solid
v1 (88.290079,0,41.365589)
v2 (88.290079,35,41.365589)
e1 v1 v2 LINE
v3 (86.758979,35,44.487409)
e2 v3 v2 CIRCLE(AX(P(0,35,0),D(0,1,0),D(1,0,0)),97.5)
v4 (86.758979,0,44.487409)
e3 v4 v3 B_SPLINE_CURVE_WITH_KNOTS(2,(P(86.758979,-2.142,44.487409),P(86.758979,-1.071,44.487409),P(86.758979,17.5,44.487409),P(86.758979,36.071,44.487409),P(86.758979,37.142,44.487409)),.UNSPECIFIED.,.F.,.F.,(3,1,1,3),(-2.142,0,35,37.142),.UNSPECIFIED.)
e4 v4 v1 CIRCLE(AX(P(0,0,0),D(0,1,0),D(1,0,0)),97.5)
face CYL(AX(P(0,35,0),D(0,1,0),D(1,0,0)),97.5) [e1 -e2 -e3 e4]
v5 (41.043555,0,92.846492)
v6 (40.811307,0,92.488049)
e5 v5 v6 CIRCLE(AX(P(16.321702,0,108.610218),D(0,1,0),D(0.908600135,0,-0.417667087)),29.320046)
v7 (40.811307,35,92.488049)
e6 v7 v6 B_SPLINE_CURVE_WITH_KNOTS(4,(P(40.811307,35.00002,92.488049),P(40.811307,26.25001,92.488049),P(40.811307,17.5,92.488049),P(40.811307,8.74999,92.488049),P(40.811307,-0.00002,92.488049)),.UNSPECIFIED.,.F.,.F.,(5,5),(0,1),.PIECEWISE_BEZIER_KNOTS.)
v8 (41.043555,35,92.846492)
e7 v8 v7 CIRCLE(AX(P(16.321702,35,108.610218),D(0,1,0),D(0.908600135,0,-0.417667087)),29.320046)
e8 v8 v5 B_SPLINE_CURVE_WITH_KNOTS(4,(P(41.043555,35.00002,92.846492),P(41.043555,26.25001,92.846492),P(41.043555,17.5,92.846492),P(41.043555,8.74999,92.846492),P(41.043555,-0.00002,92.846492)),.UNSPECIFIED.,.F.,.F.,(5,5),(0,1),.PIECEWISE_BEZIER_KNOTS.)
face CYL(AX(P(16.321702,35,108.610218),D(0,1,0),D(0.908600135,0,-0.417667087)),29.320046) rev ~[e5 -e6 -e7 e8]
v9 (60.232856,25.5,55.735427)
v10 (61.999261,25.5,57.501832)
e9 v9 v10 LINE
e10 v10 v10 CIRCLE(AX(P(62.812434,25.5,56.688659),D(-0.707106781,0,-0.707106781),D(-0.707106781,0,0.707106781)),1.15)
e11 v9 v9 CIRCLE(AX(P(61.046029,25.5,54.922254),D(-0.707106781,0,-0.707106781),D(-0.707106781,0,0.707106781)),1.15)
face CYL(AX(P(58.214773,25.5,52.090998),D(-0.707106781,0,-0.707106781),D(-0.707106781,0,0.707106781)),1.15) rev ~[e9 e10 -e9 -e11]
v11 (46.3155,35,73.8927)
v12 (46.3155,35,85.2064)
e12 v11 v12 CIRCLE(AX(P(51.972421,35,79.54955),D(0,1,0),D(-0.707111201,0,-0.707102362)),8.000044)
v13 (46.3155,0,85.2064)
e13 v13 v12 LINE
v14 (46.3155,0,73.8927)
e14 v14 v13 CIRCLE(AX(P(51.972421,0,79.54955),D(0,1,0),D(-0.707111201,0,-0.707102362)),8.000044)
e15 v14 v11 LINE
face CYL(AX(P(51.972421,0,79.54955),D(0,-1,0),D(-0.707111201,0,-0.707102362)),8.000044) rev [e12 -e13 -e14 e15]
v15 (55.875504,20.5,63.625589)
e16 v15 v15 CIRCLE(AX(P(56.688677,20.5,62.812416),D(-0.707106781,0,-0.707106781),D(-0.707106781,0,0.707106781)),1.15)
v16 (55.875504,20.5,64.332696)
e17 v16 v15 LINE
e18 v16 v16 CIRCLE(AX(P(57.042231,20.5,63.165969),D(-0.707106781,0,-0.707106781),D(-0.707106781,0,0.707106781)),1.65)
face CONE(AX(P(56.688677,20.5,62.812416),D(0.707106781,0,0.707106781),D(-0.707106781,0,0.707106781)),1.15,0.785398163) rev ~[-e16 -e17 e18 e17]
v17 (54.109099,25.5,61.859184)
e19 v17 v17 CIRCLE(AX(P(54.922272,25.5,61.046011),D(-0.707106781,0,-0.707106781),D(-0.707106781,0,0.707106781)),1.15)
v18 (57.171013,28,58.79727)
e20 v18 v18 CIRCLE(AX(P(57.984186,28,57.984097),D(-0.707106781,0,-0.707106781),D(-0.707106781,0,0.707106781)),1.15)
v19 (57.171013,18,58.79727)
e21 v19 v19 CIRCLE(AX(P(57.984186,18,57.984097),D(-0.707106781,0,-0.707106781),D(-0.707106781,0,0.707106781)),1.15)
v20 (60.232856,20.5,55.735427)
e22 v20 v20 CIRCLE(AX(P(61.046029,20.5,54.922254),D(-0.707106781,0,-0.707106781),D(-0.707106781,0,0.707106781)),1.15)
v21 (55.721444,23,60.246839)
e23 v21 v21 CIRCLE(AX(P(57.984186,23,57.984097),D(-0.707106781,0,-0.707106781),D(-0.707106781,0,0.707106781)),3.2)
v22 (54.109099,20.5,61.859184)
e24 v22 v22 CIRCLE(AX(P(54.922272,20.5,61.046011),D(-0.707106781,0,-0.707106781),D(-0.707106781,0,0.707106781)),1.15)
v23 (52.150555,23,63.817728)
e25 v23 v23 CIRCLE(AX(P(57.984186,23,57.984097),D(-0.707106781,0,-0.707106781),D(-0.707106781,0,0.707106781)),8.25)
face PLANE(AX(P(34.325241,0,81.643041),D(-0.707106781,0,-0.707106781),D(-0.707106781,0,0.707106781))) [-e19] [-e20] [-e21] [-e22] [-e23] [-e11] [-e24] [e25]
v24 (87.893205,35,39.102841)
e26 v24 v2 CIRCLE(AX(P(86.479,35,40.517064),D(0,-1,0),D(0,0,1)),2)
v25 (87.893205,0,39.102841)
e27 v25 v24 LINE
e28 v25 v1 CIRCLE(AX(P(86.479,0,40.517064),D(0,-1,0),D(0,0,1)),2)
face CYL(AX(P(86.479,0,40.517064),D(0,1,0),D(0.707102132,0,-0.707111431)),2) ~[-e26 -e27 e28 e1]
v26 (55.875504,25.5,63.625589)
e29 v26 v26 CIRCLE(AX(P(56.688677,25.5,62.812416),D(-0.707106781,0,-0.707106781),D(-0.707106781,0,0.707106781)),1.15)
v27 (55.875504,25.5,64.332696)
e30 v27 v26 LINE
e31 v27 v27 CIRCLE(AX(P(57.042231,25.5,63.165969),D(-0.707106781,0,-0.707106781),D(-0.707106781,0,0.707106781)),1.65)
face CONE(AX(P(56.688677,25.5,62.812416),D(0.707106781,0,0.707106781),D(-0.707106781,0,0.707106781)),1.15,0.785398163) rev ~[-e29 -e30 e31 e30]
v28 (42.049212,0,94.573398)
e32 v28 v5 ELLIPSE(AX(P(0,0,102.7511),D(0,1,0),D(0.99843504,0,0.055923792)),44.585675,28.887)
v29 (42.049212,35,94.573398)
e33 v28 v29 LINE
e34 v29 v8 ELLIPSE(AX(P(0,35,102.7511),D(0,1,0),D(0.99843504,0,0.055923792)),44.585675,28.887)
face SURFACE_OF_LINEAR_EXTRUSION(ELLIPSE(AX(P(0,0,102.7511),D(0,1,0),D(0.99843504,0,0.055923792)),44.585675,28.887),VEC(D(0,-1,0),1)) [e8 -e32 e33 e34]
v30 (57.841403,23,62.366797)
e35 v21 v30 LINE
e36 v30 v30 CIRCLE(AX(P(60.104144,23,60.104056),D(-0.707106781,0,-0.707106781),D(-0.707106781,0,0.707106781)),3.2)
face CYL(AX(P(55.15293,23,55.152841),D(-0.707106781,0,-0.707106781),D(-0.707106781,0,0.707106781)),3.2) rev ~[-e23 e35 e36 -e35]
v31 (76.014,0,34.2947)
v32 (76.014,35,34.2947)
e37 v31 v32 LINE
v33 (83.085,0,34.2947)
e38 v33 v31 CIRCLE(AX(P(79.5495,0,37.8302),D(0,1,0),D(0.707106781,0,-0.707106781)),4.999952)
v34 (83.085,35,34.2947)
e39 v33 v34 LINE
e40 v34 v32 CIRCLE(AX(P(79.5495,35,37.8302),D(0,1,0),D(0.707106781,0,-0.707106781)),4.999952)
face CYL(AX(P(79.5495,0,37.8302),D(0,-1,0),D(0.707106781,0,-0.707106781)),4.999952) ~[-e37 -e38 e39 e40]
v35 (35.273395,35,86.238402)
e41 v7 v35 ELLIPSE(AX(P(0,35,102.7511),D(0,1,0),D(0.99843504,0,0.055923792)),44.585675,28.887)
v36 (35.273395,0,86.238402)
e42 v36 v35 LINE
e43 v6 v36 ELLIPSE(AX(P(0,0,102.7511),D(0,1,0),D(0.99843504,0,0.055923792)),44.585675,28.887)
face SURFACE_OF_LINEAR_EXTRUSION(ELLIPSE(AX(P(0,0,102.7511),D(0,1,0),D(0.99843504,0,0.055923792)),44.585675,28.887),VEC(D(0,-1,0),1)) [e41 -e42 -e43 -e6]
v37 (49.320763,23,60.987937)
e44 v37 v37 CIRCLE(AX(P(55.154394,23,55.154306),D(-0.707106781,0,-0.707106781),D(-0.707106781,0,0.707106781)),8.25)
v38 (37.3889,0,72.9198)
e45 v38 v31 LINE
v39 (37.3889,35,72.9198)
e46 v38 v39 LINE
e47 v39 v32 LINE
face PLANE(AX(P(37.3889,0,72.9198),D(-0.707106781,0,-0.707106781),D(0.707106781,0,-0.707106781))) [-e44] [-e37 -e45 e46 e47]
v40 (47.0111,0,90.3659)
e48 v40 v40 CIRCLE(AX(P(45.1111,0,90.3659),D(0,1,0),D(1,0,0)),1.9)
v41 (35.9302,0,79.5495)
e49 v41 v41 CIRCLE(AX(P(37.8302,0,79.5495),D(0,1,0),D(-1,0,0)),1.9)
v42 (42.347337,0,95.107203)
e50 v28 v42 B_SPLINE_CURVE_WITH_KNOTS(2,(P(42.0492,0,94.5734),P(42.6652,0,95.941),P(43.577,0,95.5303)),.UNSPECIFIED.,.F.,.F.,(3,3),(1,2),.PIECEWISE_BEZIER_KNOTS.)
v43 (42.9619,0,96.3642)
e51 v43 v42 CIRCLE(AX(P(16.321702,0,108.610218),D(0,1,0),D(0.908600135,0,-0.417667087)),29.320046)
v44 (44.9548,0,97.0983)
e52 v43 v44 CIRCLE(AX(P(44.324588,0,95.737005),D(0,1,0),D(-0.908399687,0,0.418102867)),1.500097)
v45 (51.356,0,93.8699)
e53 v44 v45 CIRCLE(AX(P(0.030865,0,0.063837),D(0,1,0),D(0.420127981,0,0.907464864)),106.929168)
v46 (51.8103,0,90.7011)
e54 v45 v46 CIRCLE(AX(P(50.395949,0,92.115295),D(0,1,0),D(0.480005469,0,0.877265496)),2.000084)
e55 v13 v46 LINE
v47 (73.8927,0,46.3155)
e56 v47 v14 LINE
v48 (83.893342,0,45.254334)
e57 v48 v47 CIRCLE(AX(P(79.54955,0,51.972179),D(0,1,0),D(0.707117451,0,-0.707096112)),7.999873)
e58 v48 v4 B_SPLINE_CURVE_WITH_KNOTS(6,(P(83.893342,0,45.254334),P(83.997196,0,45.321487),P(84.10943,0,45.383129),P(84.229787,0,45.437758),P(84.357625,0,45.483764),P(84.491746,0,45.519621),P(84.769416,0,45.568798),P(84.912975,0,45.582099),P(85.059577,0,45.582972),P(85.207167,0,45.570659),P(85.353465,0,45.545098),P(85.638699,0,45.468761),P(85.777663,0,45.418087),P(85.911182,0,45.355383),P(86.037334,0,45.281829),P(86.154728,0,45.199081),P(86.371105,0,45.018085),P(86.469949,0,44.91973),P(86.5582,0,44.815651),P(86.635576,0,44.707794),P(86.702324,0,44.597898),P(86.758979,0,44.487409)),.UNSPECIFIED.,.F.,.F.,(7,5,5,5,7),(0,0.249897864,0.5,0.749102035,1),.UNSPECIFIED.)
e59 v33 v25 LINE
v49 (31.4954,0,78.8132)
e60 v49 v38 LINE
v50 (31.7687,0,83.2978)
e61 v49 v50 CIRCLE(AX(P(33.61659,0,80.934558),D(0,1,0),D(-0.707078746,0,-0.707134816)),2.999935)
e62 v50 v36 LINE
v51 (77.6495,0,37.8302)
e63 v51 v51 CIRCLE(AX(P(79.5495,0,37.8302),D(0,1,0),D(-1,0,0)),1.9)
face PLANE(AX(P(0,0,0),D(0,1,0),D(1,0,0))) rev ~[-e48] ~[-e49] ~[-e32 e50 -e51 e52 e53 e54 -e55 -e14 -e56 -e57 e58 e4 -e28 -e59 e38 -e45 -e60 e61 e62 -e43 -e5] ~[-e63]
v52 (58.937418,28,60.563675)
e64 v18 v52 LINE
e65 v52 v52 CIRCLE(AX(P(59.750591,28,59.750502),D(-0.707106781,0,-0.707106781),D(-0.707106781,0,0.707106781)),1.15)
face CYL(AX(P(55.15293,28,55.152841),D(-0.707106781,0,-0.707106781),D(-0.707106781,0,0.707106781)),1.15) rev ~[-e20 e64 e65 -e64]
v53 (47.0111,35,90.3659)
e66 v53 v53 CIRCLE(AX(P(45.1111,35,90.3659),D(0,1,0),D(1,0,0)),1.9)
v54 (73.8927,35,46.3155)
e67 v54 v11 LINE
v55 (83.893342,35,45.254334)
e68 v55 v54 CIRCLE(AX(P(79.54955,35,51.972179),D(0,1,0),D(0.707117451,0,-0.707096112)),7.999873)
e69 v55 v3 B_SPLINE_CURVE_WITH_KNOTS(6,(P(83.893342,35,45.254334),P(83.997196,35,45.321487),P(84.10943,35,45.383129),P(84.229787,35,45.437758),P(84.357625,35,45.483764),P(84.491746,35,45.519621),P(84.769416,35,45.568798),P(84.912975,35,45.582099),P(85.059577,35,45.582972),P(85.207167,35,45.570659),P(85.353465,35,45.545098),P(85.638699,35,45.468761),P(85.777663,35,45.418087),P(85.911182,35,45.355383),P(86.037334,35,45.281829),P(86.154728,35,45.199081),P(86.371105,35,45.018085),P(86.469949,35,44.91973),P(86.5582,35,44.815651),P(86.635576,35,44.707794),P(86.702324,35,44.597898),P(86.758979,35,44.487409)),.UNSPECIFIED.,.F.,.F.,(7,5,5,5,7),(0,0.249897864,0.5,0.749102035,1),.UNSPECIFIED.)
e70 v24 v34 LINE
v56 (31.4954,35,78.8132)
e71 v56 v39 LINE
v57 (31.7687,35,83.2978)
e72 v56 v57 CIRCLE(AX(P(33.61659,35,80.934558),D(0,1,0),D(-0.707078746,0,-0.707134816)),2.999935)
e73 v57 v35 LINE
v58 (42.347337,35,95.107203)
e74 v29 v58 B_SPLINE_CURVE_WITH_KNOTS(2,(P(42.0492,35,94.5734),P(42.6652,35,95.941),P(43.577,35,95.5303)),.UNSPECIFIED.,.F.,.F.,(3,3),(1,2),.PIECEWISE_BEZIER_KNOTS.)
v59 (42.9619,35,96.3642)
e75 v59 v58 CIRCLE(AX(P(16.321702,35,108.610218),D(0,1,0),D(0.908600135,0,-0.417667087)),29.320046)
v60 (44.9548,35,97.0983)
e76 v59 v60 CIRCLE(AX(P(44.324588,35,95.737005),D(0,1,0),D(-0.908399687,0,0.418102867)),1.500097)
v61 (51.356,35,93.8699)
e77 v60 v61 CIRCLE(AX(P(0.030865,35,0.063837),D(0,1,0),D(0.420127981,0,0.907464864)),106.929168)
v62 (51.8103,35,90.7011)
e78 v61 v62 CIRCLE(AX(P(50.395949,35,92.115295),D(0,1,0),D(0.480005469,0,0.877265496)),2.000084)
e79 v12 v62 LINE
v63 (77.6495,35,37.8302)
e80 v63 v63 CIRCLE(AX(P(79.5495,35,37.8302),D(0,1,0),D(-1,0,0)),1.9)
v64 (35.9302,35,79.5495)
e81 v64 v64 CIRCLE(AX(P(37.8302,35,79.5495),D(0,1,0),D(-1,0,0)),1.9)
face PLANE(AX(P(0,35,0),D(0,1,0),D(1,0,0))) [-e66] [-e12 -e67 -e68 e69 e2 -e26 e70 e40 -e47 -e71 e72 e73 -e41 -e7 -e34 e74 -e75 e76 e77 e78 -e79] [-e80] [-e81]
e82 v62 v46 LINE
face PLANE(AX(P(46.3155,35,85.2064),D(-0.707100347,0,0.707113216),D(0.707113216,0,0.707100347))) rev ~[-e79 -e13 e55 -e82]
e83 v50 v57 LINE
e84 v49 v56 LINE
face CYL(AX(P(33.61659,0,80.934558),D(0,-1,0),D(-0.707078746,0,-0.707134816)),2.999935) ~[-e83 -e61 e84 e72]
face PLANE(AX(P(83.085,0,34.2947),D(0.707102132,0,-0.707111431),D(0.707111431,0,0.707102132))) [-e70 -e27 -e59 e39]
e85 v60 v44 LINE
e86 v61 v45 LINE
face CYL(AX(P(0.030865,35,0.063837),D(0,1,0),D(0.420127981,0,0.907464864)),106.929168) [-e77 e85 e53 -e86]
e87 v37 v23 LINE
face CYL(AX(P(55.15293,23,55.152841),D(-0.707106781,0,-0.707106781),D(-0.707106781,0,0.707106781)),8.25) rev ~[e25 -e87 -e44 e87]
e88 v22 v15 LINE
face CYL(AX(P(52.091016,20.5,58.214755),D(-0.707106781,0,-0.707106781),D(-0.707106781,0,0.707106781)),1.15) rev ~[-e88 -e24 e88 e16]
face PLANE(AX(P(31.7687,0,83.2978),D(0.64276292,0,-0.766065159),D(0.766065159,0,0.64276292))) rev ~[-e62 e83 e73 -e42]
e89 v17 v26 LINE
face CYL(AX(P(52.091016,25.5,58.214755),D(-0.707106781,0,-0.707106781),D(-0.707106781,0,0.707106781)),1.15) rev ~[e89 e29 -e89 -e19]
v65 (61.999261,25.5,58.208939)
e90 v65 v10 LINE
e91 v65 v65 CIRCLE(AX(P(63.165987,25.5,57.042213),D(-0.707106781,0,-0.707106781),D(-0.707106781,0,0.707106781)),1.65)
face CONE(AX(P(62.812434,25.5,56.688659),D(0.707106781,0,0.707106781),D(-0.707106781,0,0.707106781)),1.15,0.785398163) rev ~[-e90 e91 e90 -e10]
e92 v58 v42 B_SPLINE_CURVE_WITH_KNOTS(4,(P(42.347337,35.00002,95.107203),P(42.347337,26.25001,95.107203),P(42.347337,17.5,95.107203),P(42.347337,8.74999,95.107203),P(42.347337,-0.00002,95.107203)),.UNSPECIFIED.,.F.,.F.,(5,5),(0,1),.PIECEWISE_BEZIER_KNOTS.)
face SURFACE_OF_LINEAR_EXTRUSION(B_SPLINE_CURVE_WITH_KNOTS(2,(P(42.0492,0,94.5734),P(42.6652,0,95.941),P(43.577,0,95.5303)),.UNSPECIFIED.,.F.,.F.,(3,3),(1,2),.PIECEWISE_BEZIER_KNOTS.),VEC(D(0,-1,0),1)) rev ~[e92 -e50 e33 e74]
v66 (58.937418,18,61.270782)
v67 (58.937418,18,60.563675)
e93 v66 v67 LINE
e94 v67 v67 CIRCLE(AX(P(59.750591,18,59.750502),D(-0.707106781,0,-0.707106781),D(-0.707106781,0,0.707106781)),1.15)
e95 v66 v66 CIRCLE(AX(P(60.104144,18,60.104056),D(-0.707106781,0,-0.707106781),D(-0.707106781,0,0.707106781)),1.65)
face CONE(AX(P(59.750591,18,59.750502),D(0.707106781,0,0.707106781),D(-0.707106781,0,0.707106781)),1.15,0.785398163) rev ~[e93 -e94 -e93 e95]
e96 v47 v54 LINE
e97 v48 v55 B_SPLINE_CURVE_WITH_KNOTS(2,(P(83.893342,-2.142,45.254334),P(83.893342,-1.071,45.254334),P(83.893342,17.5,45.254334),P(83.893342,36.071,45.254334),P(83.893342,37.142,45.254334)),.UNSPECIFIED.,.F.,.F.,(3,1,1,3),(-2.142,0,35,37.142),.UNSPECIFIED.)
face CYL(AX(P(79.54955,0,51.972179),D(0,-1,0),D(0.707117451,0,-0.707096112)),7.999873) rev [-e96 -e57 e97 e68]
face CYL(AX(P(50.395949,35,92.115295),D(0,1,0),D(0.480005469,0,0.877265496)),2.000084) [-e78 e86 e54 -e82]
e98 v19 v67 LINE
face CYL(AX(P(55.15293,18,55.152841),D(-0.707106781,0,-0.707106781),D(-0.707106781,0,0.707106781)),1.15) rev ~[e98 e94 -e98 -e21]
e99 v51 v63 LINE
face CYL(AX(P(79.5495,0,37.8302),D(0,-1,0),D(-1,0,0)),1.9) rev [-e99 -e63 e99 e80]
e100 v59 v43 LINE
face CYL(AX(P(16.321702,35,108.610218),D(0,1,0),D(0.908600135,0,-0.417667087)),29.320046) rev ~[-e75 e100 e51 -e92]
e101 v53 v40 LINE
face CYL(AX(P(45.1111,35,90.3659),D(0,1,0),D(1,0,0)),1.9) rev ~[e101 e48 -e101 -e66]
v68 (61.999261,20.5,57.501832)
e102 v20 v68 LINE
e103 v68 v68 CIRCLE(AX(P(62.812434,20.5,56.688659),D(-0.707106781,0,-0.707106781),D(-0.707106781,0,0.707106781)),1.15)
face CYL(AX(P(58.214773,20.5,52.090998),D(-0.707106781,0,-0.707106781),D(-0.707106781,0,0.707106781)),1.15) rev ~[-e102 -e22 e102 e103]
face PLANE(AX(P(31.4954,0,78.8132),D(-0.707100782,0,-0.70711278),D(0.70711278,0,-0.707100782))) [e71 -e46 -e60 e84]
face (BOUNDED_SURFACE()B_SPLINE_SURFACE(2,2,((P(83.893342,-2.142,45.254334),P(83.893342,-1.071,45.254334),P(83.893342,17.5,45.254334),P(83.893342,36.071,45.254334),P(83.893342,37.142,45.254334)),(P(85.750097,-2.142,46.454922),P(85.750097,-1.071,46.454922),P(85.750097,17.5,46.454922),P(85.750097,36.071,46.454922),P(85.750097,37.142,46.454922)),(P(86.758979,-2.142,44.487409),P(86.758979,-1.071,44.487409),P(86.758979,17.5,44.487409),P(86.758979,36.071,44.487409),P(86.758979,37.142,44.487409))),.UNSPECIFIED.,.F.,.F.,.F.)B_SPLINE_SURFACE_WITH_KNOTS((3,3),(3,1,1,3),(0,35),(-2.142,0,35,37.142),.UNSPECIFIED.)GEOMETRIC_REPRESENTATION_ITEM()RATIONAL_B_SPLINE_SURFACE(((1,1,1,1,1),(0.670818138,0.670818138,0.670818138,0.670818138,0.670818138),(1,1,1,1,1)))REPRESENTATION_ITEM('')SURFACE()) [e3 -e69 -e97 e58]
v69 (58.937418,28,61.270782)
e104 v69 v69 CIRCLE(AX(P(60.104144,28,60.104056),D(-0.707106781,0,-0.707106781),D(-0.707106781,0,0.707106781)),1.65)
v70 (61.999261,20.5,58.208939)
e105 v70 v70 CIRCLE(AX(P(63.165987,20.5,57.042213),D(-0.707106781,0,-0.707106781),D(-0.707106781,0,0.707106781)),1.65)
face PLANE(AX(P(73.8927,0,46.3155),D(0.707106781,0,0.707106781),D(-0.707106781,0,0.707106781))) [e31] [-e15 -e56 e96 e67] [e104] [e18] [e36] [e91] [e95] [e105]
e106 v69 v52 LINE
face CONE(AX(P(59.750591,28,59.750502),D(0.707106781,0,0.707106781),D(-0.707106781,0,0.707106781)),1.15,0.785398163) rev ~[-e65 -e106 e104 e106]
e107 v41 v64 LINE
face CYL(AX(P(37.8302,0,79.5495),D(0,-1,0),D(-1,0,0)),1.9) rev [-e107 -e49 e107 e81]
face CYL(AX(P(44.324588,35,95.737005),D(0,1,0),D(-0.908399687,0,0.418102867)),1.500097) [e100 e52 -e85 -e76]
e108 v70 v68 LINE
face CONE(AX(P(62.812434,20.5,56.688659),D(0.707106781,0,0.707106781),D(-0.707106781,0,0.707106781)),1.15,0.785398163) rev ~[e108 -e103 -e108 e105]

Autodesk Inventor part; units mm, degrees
ref_plane "YZ Plane" through (0, 0, 0) normal (1, 0, 0) x (0, 1, 0)
ref_plane "XZ Plane" through (0, 0, 0) normal (0, 1, 0) x (-1, 0, 0)
ref_plane "XY Plane" through (0, 0, 0) normal (0, 0, 1) x (1, 0, 0)
sketch "Эскиз1" plane through (0, 0, 0) normal (0, 1, 0) x (-1, 0, 0)
  line L0 (34.2947, -76.014) -> (76.014, -34.2947)
  arc A0 (83.085, -34.2947) -> (76.014, -34.2947) centre (79.5495, -37.8302) ccw
  line L1 (83.085, -34.2947) -> (87.156, -38.3657)
  line L2 (46.3155, -73.8927) -> (73.8927, -46.3155)
  arc A1 (85.2064, -46.3155) -> (73.8927, -46.3155) centre (79.5495, -51.9723) ccw
  line L3 (85.2064, -46.3155) -> (87.5645, -48.6736)
  line L4 (92.5543, -49.5852) -> (94.5192, -45.7288)
  line L5 (87.156, -38.3657) -> (94.5192, -45.7288)
  line L6 (34.2947, -83.085) -> (38.3657, -87.156)
  arc A2 (34.2947, -76.014) -> (34.2947, -83.085) centre (37.8302, -79.5495) ccw
  arc A3 (46.3155, -73.8927) -> (46.3155, -85.2064) centre (51.9723, -79.5495) ccw
  line L7 (48.6736, -87.5645) -> (46.3155, -85.2064)
  line L8 (48.7014, -93.0224) -> (45.7288, -94.5192)
  line L9 (38.3657, -87.156) -> (45.7288, -94.5192)
  spline S0 degree 4 poles (87.5645, -48.6736) (88.1327, -49.2418) (88.8708, -49.8865) (89.7495, -50.471) (90.7127, -50.7263) (91.4939, -50.6999) (92.0261, -50.3682) (92.3519, -49.9478) (92.5543, -49.5852) knots 0 0 0 0 0 0.3763 0.501335 0.614666 0.722287 1 1 1 1 1
  spline S1 degree 4 poles (48.6736, -87.5645) (49.2196, -88.1111) (49.8318, -88.8375) (50.3553, -89.7359) (50.492, -90.7638) (50.3179, -91.6771) (49.7988, -92.3195) (49.2087, -92.7429) (48.7014, -93.0224) knots 0 0 0 0 0 0.349502 0.469309 0.582088 0.694155 1 1 1 1 1
  line L10 (-34.2947, -83.085) -> (-38.3657, -87.156)
  arc A4 (-34.2947, -83.085) -> (-34.2947, -76.014) centre (-37.8302, -79.5495) ccw
  line L11 (-34.2947, -76.014) -> (-76.014, -34.2947)
  arc A5 (-76.014, -34.2947) -> (-83.085, -34.2947) centre (-79.5495, -37.8302) ccw
  line L12 (-83.085, -34.2947) -> (-87.156, -38.3657)
  spline S2 degree 4 poles (-87.5645, -48.6736) (-88.2914, -48.9094) (-89.2091, -49.1493) (-90.2171, -49.3451) (-91.178, -49.4896) (-91.8014, -49.5703) (-92.1946, -49.6038) (-92.4379, -49.6109) (-92.5543, -49.5852) knots 0 0 0 0 0 0.418221 0.558077 0.681071 0.788407 1 1 1 1 1
  line L13 (-85.2064, -46.3155) -> (-87.5645, -48.6736)
  arc A6 (-73.8927, -46.3155) -> (-85.2064, -46.3155) centre (-79.5495, -51.9723) ccw
  line L14 (-46.3155, -73.8927) -> (-73.8927, -46.3155)
  arc A7 (-46.3155, -85.2064) -> (-46.3155, -73.8927) centre (-51.9723, -79.5495) ccw
  spline S3 degree 4 poles (-48.6736, -87.5645) (-49.2196, -88.1111) (-49.8318, -88.8375) (-50.3553, -89.7359) (-50.492, -90.7638) (-50.3179, -91.6771) (-49.7988, -92.3195) (-49.2087, -92.7429) (-48.7014, -93.0224) knots 0 0 0 0 0 0.349502 0.469309 0.582088 0.694155 1 1 1 1 1
  line L15 (-48.6736, -87.5645) -> (-46.3155, -85.2064)
  arc A8 (-92.5543, 49.5852) -> (-92.5543, -49.5852) centre (0, 0) ccw construction
  arc A9 (-48.7014, -93.0224) -> (48.7014, -93.0224) centre (0, 0) ccw construction
  line L16 (-38.3657, -87.156) -> (-45.7288, -94.5192)
  line L17 (-87.156, -38.3657) -> (-94.5192, -45.7288)
  line L18 (-92.5543, -49.5852) -> (-94.5192, -45.7288)
  line L19 (-48.7014, -93.0224) -> (-45.7288, -94.5192)
  line L20 (0, 0) -> (0, 95.3237) construction
  line L21 (34.2947, -76.014) -> (76.014, -34.2947)
  arc A10 (83.085, -34.2947) -> (76.014, -34.2947) centre (79.5495, -37.8302) ccw
  line L22 (83.085, -34.2947) -> (87.156, -38.3657)
  line L23 (46.3155, -73.8927) -> (73.8927, -46.3155)
  arc A11 (85.2064, -46.3155) -> (73.8927, -46.3155) centre (79.5495, -51.9723) ccw
  line L24 (85.2064, -46.3155) -> (87.5645, -48.6736)
  line L25 (92.5543, -49.5852) -> (94.5192, -45.7288)
  arc A12 (92.5543, -49.5852) -> (92.5543, 49.5852) centre (0, 0) ccw construction
  line L26 (87.156, -38.3657) -> (94.5192, -45.7288)
  line L27 (34.2947, -83.085) -> (38.3657, -87.156)
  arc A13 (34.2947, -76.014) -> (34.2947, -83.085) centre (37.8302, -79.5495) ccw
  arc A14 (46.3155, -73.8927) -> (46.3155, -85.2064) centre (51.9723, -79.5495) ccw
  line L28 (48.6736, -87.5645) -> (46.3155, -85.2064)
  line L29 (48.7014, -93.0224) -> (45.7288, -94.5192)
  line L30 (38.3657, -87.156) -> (45.7288, -94.5192)
  arc A15 (-48.7014, -93.0224) -> (48.7014, -93.0224) centre (0, 0) ccw construction
  spline S4 degree 4 poles (87.5645, -48.6736) (88.1327, -49.2418) (88.8708, -49.8865) (89.7495, -50.471) (90.7127, -50.7263) (91.4939, -50.6999) (92.0261, -50.3682) (92.3519, -49.9478) (92.5543, -49.5852) knots 0 0 0 0 0 0.3763 0.501335 0.614666 0.722287 1 1 1 1 1
  spline S5 degree 4 poles (48.6736, -87.5645) (49.2196, -88.1111) (49.8318, -88.8375) (50.3553, -89.7359) (50.492, -90.7638) (50.3179, -91.6771) (49.7988, -92.3195) (49.2087, -92.7429) (48.7014, -93.0224) knots 0 0 0 0 0 0.349502 0.469309 0.582088 0.694155 1 1 1 1 1
  line L31 (52.2091, 91.1) -> (48.6736, 87.5645) construction
  line L32 (52.2091, 91.1) -> (48.6736, 87.5645) construction
  line L33 (48.6736, 87.5645) -> (52.2091, 91.1) construction
  spline S6 degree 2 poles (48.6736, 87.5645) (52.2091, 91.1) (48.7014, 93.0224) knots 1 1 1 2 2 2 construction
  line L34 (52.2091, 91.1) -> (48.7014, 93.0224) construction
  line L35 (91.1, 52.2091) -> (52.2091, 91.1) construction
  arc A16 (92.5543, 49.5852) -> (48.7014, 93.0224) centre (0, 0) ccw construction
  line L36 (44.1942, 76.014) -> (76.014, 44.1942) construction
  line L37 (0, 56.6418) -> (-35.5516, 86.4744) construction
  arc A17 (0, 67.941) -> (23.7825, 76.5969) centre (0, 104.941) ccw construction
  arc A18 (-23.7825, 76.5969) -> (0, 67.941) centre (0, 104.941) ccw construction
  line L38 (-23.7825, 76.5969) -> (-35.2734, 86.2384) construction
  line L39 (0, 104.941) -> (-23.6028, 54.3247) construction
  arc A19 (-28.0199, 71.0163) -> (5.5413, 61.2914) centre (0, 104.941) ccw construction
  arc A20 (5.5413, 61.2914) -> (28.0199, 71.0163) centre (0, 104.941) ccw construction
  arc A21 (-30.6393, 73.2144) -> (-37.3889, 72.9198) centre (-33.8534, 69.3842) ccw construction
  line L40 (0, 56.6418) -> (23.7825, 76.5969) construction
  line L41 (23.7825, 76.5969) -> (35.2734, 86.2384) construction
  line L42 (0, 0) -> (74.2462, 74.2462) construction
  line L43 (42.6652, 95.941) -> (42.0492, 94.5734) construction
  line L44 (42.0492, 94.5734) -> (42.6652, 95.941) construction
  spline S7 degree 2 poles (42.0492, 94.5734) (42.6652, 95.941) (43.577, 95.5303) knots 1 1 1 2 2 2 construction
  line L45 (42.6652, 95.941) -> (43.577, 95.5303) construction
  arc A22 (-44.1942, 76.014) -> (-44.1942, 83.085) centre (-47.7297, 79.5495) ccw construction
  arc A23 (92.5543, -49.5852) -> (92.5543, 49.5852) centre (0, 0) ccw construction
  circle A24 centre (0, 0) radius 35 construction
  spline S8 degree 2 poles (-48.6736, 87.5645) (-52.2091, 91.1) (-48.7014, 93.0224) knots 1 1 1 2 2 2 construction
  line L46 (-48.6736, 87.5645) -> (-52.2091, 91.1) construction
  line L47 (-52.2091, 91.1) -> (-48.7014, 93.0224) construction
  arc A25 (-83.085, 44.1942) -> (-76.014, 44.1942) centre (-79.5495, 47.7297) ccw construction
  line L48 (-83.085, 44.1942) -> (-85.2064, 46.3155) construction
  line L49 (-44.1942, 76.014) -> (-46.3155, 73.8927) construction
  arc A26 (-48.7014, 93.0224) -> (-92.5543, 49.5852) centre (0, 0) ccw construction
  line L50 (-42.6652, 95.941) -> (-42.0492, 94.5734) construction
  arc A27 (-43.577, 95.5303) -> (-48.7014, 93.0224) centre (0, 0) ccw
  ellipse E0 centre (0, 102.7511) end of major axis (-44.5159, 105.2445) minor radius 28.887 (-42.0492, 94.5734) -> (-35.2734, 86.2384) ccw
  line L51 (-42.0492, 94.5734) -> (-42.6652, 95.941) construction
  spline S9 degree 2 poles (-42.0492, 94.5734) (-42.6652, 95.941) (-43.577, 95.5303) knots 1 1 1 2 2 2 construction
  line L52 (-42.6652, 95.941) -> (-43.577, 95.5303) construction
  line L53 (-42.0492, 94.5734) -> (-42.6652, 95.941) construction
  spline S10 degree 2 poles (-42.0492, 94.5734) (-42.6652, 95.941) (-43.577, 95.5303) knots 1 1 1 2 2 2
  line L54 (-42.6652, 95.941) -> (-43.577, 95.5303) construction
  line L55 (-42.6652, 95.941) -> (-43.577, 95.5303) construction
  line L56 (-44.1942, 83.085) -> (-48.6736, 87.5645) construction
  line L57 (-37.3889, 72.9198) -> (-76.014, 34.2947)
  arc A28 (-83.085, 34.2947) -> (-76.014, 34.2947) centre (-79.5495, 37.8302) ccw
  line L58 (-83.085, 34.2947) -> (-90.6891, 41.8987)
  arc A29 (-87.3563, 48.4654) -> (-90.6891, 41.8987) centre (0, 0) ccw construction
  line L59 (-93.5297, 47.6709) -> (-92.5543, 49.5852) construction
  arc A30 (85.2064, -46.3155) -> (73.8927, -46.3155) centre (79.5495, -51.9723) ccw construction
  line L60 (85.2064, -46.3155) -> (87.5645, -48.6736) construction
  spline S11 degree 2 poles (87.5645, -48.6736) (91.1, -52.2091) (92.5543, -49.5852) knots 1 1 1 2 2 2 construction
  line L61 (87.5645, -48.6736) -> (91.1, -52.2091) construction
  line L62 (91.1, -52.2091) -> (92.5543, -49.5852) construction
  line L63 (46.3155, -73.8927) -> (73.8927, -46.3155) construction
  line L64 (48.6736, -87.5645) -> (46.3155, -85.2064) construction
  line L65 (48.6736, -87.5645) -> (52.2091, -91.1) construction
  spline S12 degree 2 poles (48.6736, -87.5645) (52.2091, -91.1) (48.7014, -93.0224) knots 1 1 1 2 2 2 construction
  line L66 (52.2091, -91.1) -> (48.7014, -93.0224) construction
  arc A31 (46.3155, -73.8927) -> (46.3155, -85.2064) centre (51.9723, -79.5495) ccw construction
  arc A32 (48.7014, -93.0224) -> (92.5543, -49.5852) centre (0, 0) ccw construction
  arc A33 (-48.7014, -93.0224) -> (48.7014, -93.0224) centre (0, 0) ccw construction
  arc A34 (-90.6891, 41.8987) -> (-87.3563, 48.4654) centre (0, 0) ccw construction
  line L67 (42.6652, 95.941) -> (-42.6652, 95.941) construction
  line L68 (-48.6736, -87.5645) -> (-52.2091, -91.1) construction
  spline S13 degree 2 poles (-48.6736, -87.5645) (-52.2091, -91.1) (-48.7014, -93.0224) knots 1 1 1 2 2 2 construction
  line L69 (-52.2091, -91.1) -> (-48.7014, -93.0224) construction
  line L70 (-91.1, -52.2091) -> (-92.5543, -49.5852) construction
  spline S14 degree 2 poles (-87.5645, -48.6736) (-91.1, -52.2091) (-92.5543, -49.5852) knots 1 1 1 2 2 2 construction
  line L71 (-87.5645, -48.6736) -> (-91.1, -52.2091) construction
  arc A35 (-92.5543, -49.5852) -> (-48.7014, -93.0224) centre (0, 0) ccw construction
  line L72 (-48.6736, -87.5645) -> (-46.3155, -85.2064) construction
  arc A36 (-73.8927, -46.3155) -> (-85.2064, -46.3155) centre (-79.5495, -51.9723) ccw construction
  line L73 (-85.2064, -46.3155) -> (-87.5645, -48.6736) construction
  line L74 (-46.3155, -73.8927) -> (-73.8927, -46.3155) construction
  arc A37 (-46.3155, -85.2064) -> (-46.3155, -73.8927) centre (-51.9723, -79.5495) ccw construction
  arc A38 (-92.5543, 49.5852) -> (-92.5543, -49.5852) centre (0, 0) ccw construction
  arc A39 (44.1942, 83.085) -> (44.1942, 76.014) centre (47.7297, 79.5495) ccw construction
  arc A40 (44.0271, 95.3237) -> (43.577, 95.5303) centre (0, 0) ccw construction
  line L75 (42.6652, 95.941) -> (43.577, 95.5303) construction
  arc A41 (48.7014, 93.0224) -> (44.0271, 95.3237) centre (0, 0) ccw construction
  line L76 (52.2091, 91.1) -> (48.7014, 93.0224) construction
  line L77 (83.085, 44.1942) -> (87.5645, 48.6736) construction
  ellipse E1 centre (0, 102.7511) end of major axis (44.5159, 105.2445) minor radius 28.887 (35.2734, 86.2384) -> (42.0492, 94.5734) ccw construction
  arc A42 (76.014, 44.1942) -> (83.085, 44.1942) centre (79.5495, 47.7297) ccw construction
  line L78 (0, 0) -> (0, 209.8821) construction
  arc A43 (43.577, 95.5303) -> (-43.577, 95.5303) centre (0, 0) ccw construction
  arc A44 (23.7825, 76.5969) -> (0, 67.941) centre (0, 104.941) ccw construction
  line L79 (44.0271, 95.3237) -> (44.0271, 127.8162) construction
  ellipse E2 centre (0, 102.7511) end of major axis (44.0271, 102.7511) minor radius 27.5932 (42.0492, 94.5734) -> (35.2734, 86.2384) ccw construction
  line L80 (-30.6393, 73.2144) -> (-28.0199, 71.0163) construction
  arc A45 (28.0199, 71.0163) -> (-28.0199, 71.0163) centre (0, 104.941) ccw construction
  line L81 (30.6393, 73.2144) -> (28.0199, 71.0163) construction
  arc A46 (37.3889, 72.9198) -> (30.6393, 73.2144) centre (33.8534, 69.3842) ccw construction
  line L82 (44.0271, 95.3237) -> (43.577, 95.5303) construction
  arc A47 (44.1942, 83.085) -> (44.1942, 76.014) centre (47.7297, 79.5495) ccw construction
  line L83 (48.6736, 87.5645) -> (44.1942, 83.085) construction
  line L84 (37.3889, 72.9198) -> (76.014, 34.2947) construction
  line L85 (44.1942, 76.014) -> (76.014, 44.1942) construction
  arc A48 (76.014, 44.1942) -> (83.085, 44.1942) centre (79.5495, 47.7297) ccw construction
  arc A49 (76.014, 34.2947) -> (83.085, 34.2947) centre (79.5495, 37.8302) ccw construction
  line L86 (83.085, 44.1942) -> (87.3563, 48.4654) construction
  line L87 (83.085, 34.2947) -> (90.6891, 41.8987) construction
  arc A50 (90.6891, 41.8987) -> (87.3563, 48.4654) centre (0, 0) ccw construction
  arc A51 (-83.085, 34.2947) -> (-76.014, 34.2947) centre (-79.5495, 37.8302) ccw
  line L88 (-87.156, 38.3657) -> (-94.5192, 45.7288)
  line L89 (-93.0224, 48.7014) -> (-94.5192, 45.7288)
  arc A52 (-85.2064, 46.3155) -> (-73.8927, 46.3155) centre (-79.5495, 51.9723) ccw
  line L90 (-87.5645, 48.6736) -> (-85.2064, 46.3155)
  line L91 (-83.085, 34.2947) -> (-87.156, 38.3657)
  line L92 (-73.8927, 46.3155) -> (-46.3155, 73.8927)
  spline S15 degree 4 poles (-87.5645, 48.6736) (-88.1111, 49.2196) (-88.8375, 49.8318) (-89.7359, 50.3553) (-90.7638, 50.492) (-91.6771, 50.3179) (-92.3195, 49.7988) (-92.7429, 49.2087) (-93.0224, 48.7014) knots 0 0 0 0 0 0.349502 0.469309 0.582088 0.694155 1 1 1 1 1
  arc A53 (-34.2947, 76.014) -> (-34.2947, 83.085) centre (-37.8302, 79.5495) ccw construction
  line L93 (-34.2947, 83.085) -> (-38.3657, 87.156) construction
  arc A54 (-46.3155, 73.8927) -> (-46.3155, 85.2064) centre (-51.9723, 79.5495) ccw
  line L94 (-46.3155, 85.2064) -> (-48.6736, 87.5645)
  spline S16 degree 4 poles (-48.6736, 87.5645) (-49.2418, 88.1327) (-49.8865, 88.8708) (-50.471, 89.7495) (-50.7263, 90.7127) (-50.6999, 91.4939) (-50.3682, 92.0261) (-49.9478, 92.3519) (-49.5852, 92.5543) knots 0 0 0 0 0 0.3763 0.501335 0.614666 0.722287 1 1 1 1 1
  line L95 (-49.5852, 92.5543) -> (-45.7288, 94.5192)
  line L96 (-38.3657, 87.156) -> (-45.7288, 94.5192) construction
  arc A55 (-34.2947, 76.014) -> (-34.2947, 83.085) centre (-37.8302, 79.5495) ccw construction
  line L97 (-34.2947, 83.085) -> (-38.3657, 87.156) construction
  arc A56 (-46.3155, 73.8927) -> (-46.3155, 85.2064) centre (-51.9723, 79.5495) ccw
  line L98 (-46.3155, 85.2064) -> (-48.6736, 87.5645)
  spline S17 degree 4 poles (-48.6736, 87.5645) (-49.2418, 88.1327) (-49.8865, 88.8708) (-50.471, 89.7495) (-50.7263, 90.7127) (-50.6999, 91.4939) (-50.3682, 92.0261) (-49.9478, 92.3519) (-49.5852, 92.5543) knots 0 0 0 0 0 0.3763 0.501335 0.614666 0.722287 1 1 1 1 1
  line L99 (-49.5852, 92.5543) -> (-45.7288, 94.5192)
  line L100 (-38.3657, 87.156) -> (-45.7288, 94.5192) construction
  arc A57 (-83.085, 34.2947) -> (-76.014, 34.2947) centre (-79.5495, 37.8302) ccw
  line L101 (-83.085, 34.2947) -> (-87.156, 38.3657)
  line L102 (-87.156, 38.3657) -> (-94.5192, 45.7288)
  line L103 (-93.0224, 48.7014) -> (-94.5192, 45.7288)
  spline S18 degree 4 poles (-87.5645, 48.6736) (-88.1111, 49.2196) (-88.8375, 49.8318) (-89.7359, 50.3553) (-90.7638, 50.492) (-91.6771, 50.3179) (-92.3195, 49.7988) (-92.7429, 49.2087) (-93.0224, 48.7014) knots 0 0 0 0 0 0.349502 0.469309 0.582088 0.694155 1 1 1 1 1
  arc A58 (-85.2064, 46.3155) -> (-73.8927, 46.3155) centre (-79.5495, 51.9723) ccw
  line L104 (-76.014, 34.2947) -> (-34.2947, 76.014) construction
  line L105 (-73.8927, 46.3155) -> (-46.3155, 73.8927)
  line L106 (-87.5645, 48.6736) -> (-85.2064, 46.3155)
  line L107 (-87.5645, 48.6736) -> (-91.1, 52.2091) construction
  spline S19 degree 2 poles (-87.5645, 48.6736) (-91.1, 52.2091) (-93.0224, 48.7014) knots 1 1 1 2 2 2 construction
  line L108 (-91.1, 52.2091) -> (-93.0224, 48.7014) construction
  line L109 (-48.6736, 87.5645) -> (-52.2091, 91.1) construction
  spline S20 degree 2 poles (-48.6736, 87.5645) (-52.2091, 91.1) (-49.5852, 92.5543) knots 1 1 1 2 2 2 construction
  line L110 (-52.2091, 91.1) -> (-49.5852, 92.5543) construction
  arc A59 (-49.5852, 92.5543) -> (-93.0224, 48.7014) centre (0, 0) ccw construction
  arc A60 (-46.3155, 73.8927) -> (-46.3155, 85.2064) centre (-51.9723, 79.5495) ccw construction
  line L111 (-46.3155, 85.2064) -> (-48.6736, 87.5645) construction
  line L112 (-73.8927, 46.3155) -> (-46.3155, 73.8927) construction
  arc A61 (-85.2064, 46.3155) -> (-73.8927, 46.3155) centre (-79.5495, 51.9723) ccw construction
  line L113 (-87.5645, 48.6736) -> (-85.2064, 46.3155) construction
  line L114 (-60.1041, 60.1041) -> (-55.1543, 55.1543) construction
  circle A62 centre (-79.5495, 37.8302) radius 1.9
  circle A63 centre (-37.8302, 79.5495) radius 1.9
  arc A64 (-34.995, 78.2699) -> (-31.4954, 78.8132) centre (-33.6167, 80.9346) ccw construction
  arc A65 (-36.5845, 80.4956) -> (-34.995, 78.2699) centre (-33.6167, 80.9346) ccw construction
  arc A66 (-31.7687, 83.2978) -> (-36.5845, 80.4956) centre (-33.6167, 80.9346) ccw construction
  arc A67 (-31.4954, 78.8132) -> (-31.7687, 83.2978) centre (-33.6167, 80.9346) ccw
  line L115 (-31.4954, 78.8132) -> (-29.1816, 81.127) construction
  line L116 (-46.3155, 73.8927) -> (-73.8927, 46.3155)
  line L117 (-73.8927, 46.3155) -> (-76.014, 44.1942) construction
  line L118 (-85.2064, 46.3155) -> (-87.3563, 48.4654)
  line L119 (-31.7687, 83.2978) -> (-35.2734, 86.2384)
  line L120 (99.9, 0) -> (-99.9, 0) construction
  line L121 (-31.4954, 78.8132) -> (-37.3889, 72.9198)
  point P0 (49.5385, -88.5397)
  point P1 (50.0866, -89.3893)
  point P2 (50.374, -90.1304)
  point P3 (50.4468, -90.7861)
  point P4 (50.3313, -91.3833)
  point P5 (50.0252, -91.9468)
  point P6 (49.4982, -92.4922)
  point P7 (88.5759, -49.5937)
  point P8 (89.4338, -50.2024)
  point P9 (90.1559, -50.5529)
  point P10 (90.7644, -50.6948)
  point P11 (91.2858, -50.6665)
  point P12 (91.7467, -50.4838)
  point P13 (92.1672, -50.1352)
  point P14 (-49.5385, -88.5397)
  point P15 (-50.0866, -89.3893)
  point P16 (-50.374, -90.1304)
  point P17 (-50.4468, -90.7861)
  point P18 (-50.3313, -91.3833)
  point P19 (-50.0252, -91.9468)
  point P20 (-49.4982, -92.4922)
  point P21 (-88.809, -49.0312)
  point P22 (-89.8238, -49.2591)
  point P23 (-90.6293, -49.404)
  point P24 (-91.255, -49.4978)
  point P25 (-91.7362, -49.5581)
  point P26 (-92.1042, -49.5923)
  point P27 (-92.3767, -49.6023)
  point P28 (88.5759, -49.5937)
  point P29 (89.4338, -50.2024)
  point P30 (90.1559, -50.5529)
  point P31 (90.7644, -50.6948)
  point P32 (91.2858, -50.6665)
  point P33 (91.7467, -50.4838)
  point P34 (92.1672, -50.1352)
  point P35 (49.5385, -88.5397)
  point P36 (50.0866, -89.3893)
  point P37 (50.374, -90.1304)
  point P38 (50.4468, -90.7861)
  point P39 (50.3313, -91.3833)
  point P40 (50.0252, -91.9468)
  point P41 (49.4982, -92.4922)
  point P42 (79.5495, 40.6586)
  point P43 (40.6586, 79.5495)
  point P44 (60.1041, 60.1041)
  point P45 (-23.542, 76.3968)
  point P46 (-34.9935, 86.0061)
  point P47 (0, 95.941)
  point P48 (-15.6369, 71.4076)
  point P49 (-13.2817, 58.6489)
  point P50 (-28.5452, 71.4571)
  point P51 (13.2817, 58.6489)
  point P52 (-87.5645, 48.6736)
  point P53 (0, 105)
  point P54 (-94.5192, 45.7288)
  point P55 (0, 95.941)
  point P56 (-88.5397, 49.5385)
  point P57 (-89.3893, 50.0866)
  point P58 (-90.1304, 50.374)
  point P59 (-90.7861, 50.4468)
  point P60 (-91.3833, 50.3313)
  point P61 (-91.9468, 50.0252)
  point P62 (-92.4922, 49.4982)
  point P63 (-49.5937, 88.5759)
  point P64 (-50.2024, 89.4338)
  point P65 (-50.5529, 90.1559)
  point P66 (-50.6948, 90.7644)
  point P67 (-50.6665, 91.2858)
  point P68 (-50.4838, 91.7467)
  point P69 (-50.1352, 92.1672)
  point P70 (-49.5937, 88.5759)
  point P71 (-50.2024, 89.4338)
  point P72 (-50.5529, 90.1559)
  point P73 (-50.6948, 90.7644)
  point P74 (-50.6665, 91.2858)
  point P75 (-50.4838, 91.7467)
  point P76 (-50.1352, 92.1672)
  point P77 (-88.5397, 49.5385)
  point P78 (-89.3893, 50.0866)
  point P79 (-90.1304, 50.374)
  point P80 (-90.7861, 50.4468)
  point P81 (-91.3833, 50.3313)
  point P82 (-91.9468, 50.0252)
  point P83 (-92.4922, 49.4982)
  dimension "d63" = 44.5856
  dimension "d44" = 74
  dimension "d45" = 100
  dimension "d46" = 28
  dimension "d47" = 15
  dimension "d48" = 45
  dimension "d49" = 55
  dimension "d50" = 16.3348
  dimension "d51" = 27.5
  dimension "d52" = 5
  dimension "d53" = 5
  dimension "d54" = 1
  dimension "d55" = 1.5
  dimension "d56" = 1.5
  dimension "d57" = 1
  dimension "d58" = 4
  dimension "d59" = 70
  dimension "d60" = 85
  dimension "d61" = 105
  dimension "d62" = 1.3619
  dimension "d64" = 88
  dimension "d65" = 7
  dimension "d66" = 5
  dimension "d67" = 7
  dimension "d68" = 5
  dimension "d69" = 7
  dimension "d70" = 5
  dimension "d71" = 5.1
  dimension "d72" = 3.8
  dimension "d73" = 6
extrude "Выдавливание10" add sketch "Эскиз1" along normal blind 35 contours S10 E0 L119 A67 L121 L57 A28 L58 L88 L89 S15 L90 A52 L92 A54 L94 S16 L95 A27
sketch "Эскиз6" plane through (31.4954, 0, 78.8132) normal (-0.7071, 0, -0.7071) x (-0.7071, 0, 0.7071)
  line L0 (-5.8588, 35) -> (-2.0588, 35) construction
  line L1 (-64.8588, 35) -> (-61.0588, 35) construction
  line L2 (-61.0588, 0) -> (-64.8588, 0) construction
  line L3 (-5.8588, 0) -> (-2.0588, 0) construction
  line L4 (-62.9588, 0) -> (-67.9588, 0) construction
  line L5 (-62.9588, 35) -> (-62.9588, 0) construction
  line L6 (-62.9588, 35) -> (0, 35) construction
  line L7 (-3.9588, 35) -> (-3.9588, 0) construction
  line L8 (-62.9588, 0) -> (0, 0) construction
  circle A0 centre (-33.4588, 23) radius 8.25
  circle A1 centre (-33.4588, 23) radius 5 construction
  circle A2 centre (-33.4588, 23) radius 3.2
  circle A3 centre (-33.4588, 28) radius 1.15
  line L9 (-33.4588, 23) -> (-33.4588, 35) construction
  line L10 (-13.9588, 35) -> (-52.9588, 35) construction
  circle A4 centre (-37.7889, 25.5) radius 1.15
  circle A5 centre (-37.7889, 20.5) radius 1.15
  circle A6 centre (-33.4588, 18) radius 1.15
  circle A7 centre (-29.1286, 20.5) radius 1.15
  circle A8 centre (-29.1286, 25.5) radius 1.15
  point P0 (-33.4588, 0)
  dimension "d82" = 10
  dimension "d80" = 59
  dimension "d81" = 16.5
  dimension "d83" = 6.4
  dimension "d84" = 2.3
  dimension "d87" = 360
  dimension "d97" = 12
extrude "Выдавливание13" cut sketch "Эскиз6" against normal mid plane 33.5 contours A2 | A3 | A4 | A5 | A6 | A7 | A8
extrude "Выдавливание14" cut sketch "Эскиз6" against normal blind 4
chamfer "Фаска3" distance 0.5 angle 45 6 edges at (60.9172, 28, 59.2909) (63.9791, 25.5, 56.229) (63.9791, 20.5, 56.229) (60.9172, 18, 59.2909) (57.8554, 20.5, 62.3528) (57.8554, 25.5, 62.3528)
sketch "Эскиз7" plane through (0, 35, 0) normal (0, 1, 0) x (1, 0, 0)
  circle A0 centre (0, 0) radius 97.5
  line L0 (82.3385, -52.2171) -> (97.0481, -54.4786)
  line L1 (97.0481, -54.4786) -> (99.1933, -43.8751)
  line L2 (99.1933, -43.8751) -> (90.1261, -37.196)
  dimension "d98" = 195
extrude "Выдавливание15" cut sketch "Эскиз7" against normal blind 40 contours A0 L2 L1 L0
fillet "Сопряжение1" radius 2 2 edges at (85.5892, 17.5, 46.6983) (88.8777, 17.5, 40.0874)
sketch "Эскиз8" plane through (0, 35, 0) normal (0, 1, 0) x (1, 0, 0)
  arc A0 (53.6735, -92.5643) -> (43.5515, -97.7357) centre (0, 0) ccw construction
  arc A1 (88.2901, -41.3656) -> (87.8932, -39.1028) centre (86.479, -40.5171) ccw construction
  line L0 (87.8932, -39.1028) -> (83.085, -34.2947) construction
  arc A2 (83.085, -34.2947) -> (76.014, -34.2947) centre (79.5495, -37.8302) ccw construction
  line L1 (76.014, -34.2947) -> (31.4954, -78.8132) construction
  arc A3 (31.4954, -78.8132) -> (31.7687, -83.2978) centre (33.6167, -80.9346) ccw construction
  line L2 (31.7687, -83.2978) -> (35.2734, -86.2384) construction
  ellipse E0 centre (0, -102.7511) end of major axis (-44.5159, -100.2577) minor radius 28.887 (42.0492, -94.5734) -> (35.2734, -86.2384) ccw construction
  arc A4 (43.577, -95.5303) -> (45.7288, -94.5192) centre (0, 0) ccw construction
  line L3 (45.7288, -94.5192) -> (49.5852, -92.5543) construction
  line L4 (48.6736, -87.5645) -> (46.3155, -85.2064) construction
  arc A5 (46.3155, -73.8927) -> (46.3155, -85.2064) centre (51.9723, -79.5495) ccw construction
  line L5 (46.3155, -73.8927) -> (73.8927, -46.3155) construction
  arc A6 (83.8933, -45.2544) -> (73.8927, -46.3155) centre (79.5495, -51.9723) ccw construction
  arc A7 (83.8933, -45.2544) -> (86.759, -44.4874) centre (84.9793, -43.5749) ccw construction
  arc A8 (86.759, -44.4874) -> (88.2901, -41.3656) centre (0, 0) ccw construction
  circle A9 centre (79.5495, -37.8302) radius 1.9 construction
  circle A10 centre (37.8302, -79.5495) radius 1.9 construction
  line L6 (48.6736, -87.5645) -> (46.3155, -85.2064) construction
  line L7 (46.3155, -85.2064) -> (51.8103, -90.7011)
  line L8 (48.6736, -87.5645) -> (46.3155, -85.2064) construction
  ellipse E1 centre (0, -102.7511) end of major axis (-44.5159, -100.2577) minor radius 28.887 (42.0492, -94.5734) -> (35.2734, -86.2384) ccw construction
  arc A11 (42.0492, -94.5734) -> (42.0492, -94.5734) centre (16.1576, -108.7) ccw construction
  arc A12 (42.9619, -96.3642) -> (-13.241, -106.1776) centre (16.1576, -108.7) ccw construction
  arc A13 (44.9548, -97.0983) -> (51.356, -93.8699) centre (0, 0) ccw
  arc A14 (-13.241, -106.1776) -> (43.5515, -97.7357) centre (16.1576, -108.7) ccw construction
  arc A15 (51.356, -93.8699) -> (51.8103, -90.7011) centre (50.3961, -92.1154) ccw
  arc A16 (42.9619, -96.3642) -> (44.9548, -97.0983) centre (44.3245, -95.7371) ccw
  arc A17 (42.9619, -96.3642) -> (35.2734, -86.2384) centre (16.3229, -108.6095) ccw
  line L9 (35.2734, -86.2384) -> (46.3155, -85.2064)
  dimension "d102" = 214
  dimension "d103" = 2
  dimension "d104" = 1.5
extrude "Выдавливание16" add sketch "Эскиз8" against normal up to surface (35 mm away)
sketch "Эскиз9" plane through (0, 35, 0) normal (0, 1, 0) x (1, 0, 0)
  circle A0 centre (0, 0) radius 101 construction
  circle A1 centre (45.1111, -90.3659) radius 1.9
  line L0 (51.8103, -90.7011) -> (46.3155, -85.2064) projected
  dimension "d107" = 202
  dimension "d108" = 3.8
  dimension "d109" = 4.5
extrude "Выдавливание17" cut sketch "Эскиз9" against normal up to surface (35 mm away)
properties part number "_3DПЕЧАТЬ"
